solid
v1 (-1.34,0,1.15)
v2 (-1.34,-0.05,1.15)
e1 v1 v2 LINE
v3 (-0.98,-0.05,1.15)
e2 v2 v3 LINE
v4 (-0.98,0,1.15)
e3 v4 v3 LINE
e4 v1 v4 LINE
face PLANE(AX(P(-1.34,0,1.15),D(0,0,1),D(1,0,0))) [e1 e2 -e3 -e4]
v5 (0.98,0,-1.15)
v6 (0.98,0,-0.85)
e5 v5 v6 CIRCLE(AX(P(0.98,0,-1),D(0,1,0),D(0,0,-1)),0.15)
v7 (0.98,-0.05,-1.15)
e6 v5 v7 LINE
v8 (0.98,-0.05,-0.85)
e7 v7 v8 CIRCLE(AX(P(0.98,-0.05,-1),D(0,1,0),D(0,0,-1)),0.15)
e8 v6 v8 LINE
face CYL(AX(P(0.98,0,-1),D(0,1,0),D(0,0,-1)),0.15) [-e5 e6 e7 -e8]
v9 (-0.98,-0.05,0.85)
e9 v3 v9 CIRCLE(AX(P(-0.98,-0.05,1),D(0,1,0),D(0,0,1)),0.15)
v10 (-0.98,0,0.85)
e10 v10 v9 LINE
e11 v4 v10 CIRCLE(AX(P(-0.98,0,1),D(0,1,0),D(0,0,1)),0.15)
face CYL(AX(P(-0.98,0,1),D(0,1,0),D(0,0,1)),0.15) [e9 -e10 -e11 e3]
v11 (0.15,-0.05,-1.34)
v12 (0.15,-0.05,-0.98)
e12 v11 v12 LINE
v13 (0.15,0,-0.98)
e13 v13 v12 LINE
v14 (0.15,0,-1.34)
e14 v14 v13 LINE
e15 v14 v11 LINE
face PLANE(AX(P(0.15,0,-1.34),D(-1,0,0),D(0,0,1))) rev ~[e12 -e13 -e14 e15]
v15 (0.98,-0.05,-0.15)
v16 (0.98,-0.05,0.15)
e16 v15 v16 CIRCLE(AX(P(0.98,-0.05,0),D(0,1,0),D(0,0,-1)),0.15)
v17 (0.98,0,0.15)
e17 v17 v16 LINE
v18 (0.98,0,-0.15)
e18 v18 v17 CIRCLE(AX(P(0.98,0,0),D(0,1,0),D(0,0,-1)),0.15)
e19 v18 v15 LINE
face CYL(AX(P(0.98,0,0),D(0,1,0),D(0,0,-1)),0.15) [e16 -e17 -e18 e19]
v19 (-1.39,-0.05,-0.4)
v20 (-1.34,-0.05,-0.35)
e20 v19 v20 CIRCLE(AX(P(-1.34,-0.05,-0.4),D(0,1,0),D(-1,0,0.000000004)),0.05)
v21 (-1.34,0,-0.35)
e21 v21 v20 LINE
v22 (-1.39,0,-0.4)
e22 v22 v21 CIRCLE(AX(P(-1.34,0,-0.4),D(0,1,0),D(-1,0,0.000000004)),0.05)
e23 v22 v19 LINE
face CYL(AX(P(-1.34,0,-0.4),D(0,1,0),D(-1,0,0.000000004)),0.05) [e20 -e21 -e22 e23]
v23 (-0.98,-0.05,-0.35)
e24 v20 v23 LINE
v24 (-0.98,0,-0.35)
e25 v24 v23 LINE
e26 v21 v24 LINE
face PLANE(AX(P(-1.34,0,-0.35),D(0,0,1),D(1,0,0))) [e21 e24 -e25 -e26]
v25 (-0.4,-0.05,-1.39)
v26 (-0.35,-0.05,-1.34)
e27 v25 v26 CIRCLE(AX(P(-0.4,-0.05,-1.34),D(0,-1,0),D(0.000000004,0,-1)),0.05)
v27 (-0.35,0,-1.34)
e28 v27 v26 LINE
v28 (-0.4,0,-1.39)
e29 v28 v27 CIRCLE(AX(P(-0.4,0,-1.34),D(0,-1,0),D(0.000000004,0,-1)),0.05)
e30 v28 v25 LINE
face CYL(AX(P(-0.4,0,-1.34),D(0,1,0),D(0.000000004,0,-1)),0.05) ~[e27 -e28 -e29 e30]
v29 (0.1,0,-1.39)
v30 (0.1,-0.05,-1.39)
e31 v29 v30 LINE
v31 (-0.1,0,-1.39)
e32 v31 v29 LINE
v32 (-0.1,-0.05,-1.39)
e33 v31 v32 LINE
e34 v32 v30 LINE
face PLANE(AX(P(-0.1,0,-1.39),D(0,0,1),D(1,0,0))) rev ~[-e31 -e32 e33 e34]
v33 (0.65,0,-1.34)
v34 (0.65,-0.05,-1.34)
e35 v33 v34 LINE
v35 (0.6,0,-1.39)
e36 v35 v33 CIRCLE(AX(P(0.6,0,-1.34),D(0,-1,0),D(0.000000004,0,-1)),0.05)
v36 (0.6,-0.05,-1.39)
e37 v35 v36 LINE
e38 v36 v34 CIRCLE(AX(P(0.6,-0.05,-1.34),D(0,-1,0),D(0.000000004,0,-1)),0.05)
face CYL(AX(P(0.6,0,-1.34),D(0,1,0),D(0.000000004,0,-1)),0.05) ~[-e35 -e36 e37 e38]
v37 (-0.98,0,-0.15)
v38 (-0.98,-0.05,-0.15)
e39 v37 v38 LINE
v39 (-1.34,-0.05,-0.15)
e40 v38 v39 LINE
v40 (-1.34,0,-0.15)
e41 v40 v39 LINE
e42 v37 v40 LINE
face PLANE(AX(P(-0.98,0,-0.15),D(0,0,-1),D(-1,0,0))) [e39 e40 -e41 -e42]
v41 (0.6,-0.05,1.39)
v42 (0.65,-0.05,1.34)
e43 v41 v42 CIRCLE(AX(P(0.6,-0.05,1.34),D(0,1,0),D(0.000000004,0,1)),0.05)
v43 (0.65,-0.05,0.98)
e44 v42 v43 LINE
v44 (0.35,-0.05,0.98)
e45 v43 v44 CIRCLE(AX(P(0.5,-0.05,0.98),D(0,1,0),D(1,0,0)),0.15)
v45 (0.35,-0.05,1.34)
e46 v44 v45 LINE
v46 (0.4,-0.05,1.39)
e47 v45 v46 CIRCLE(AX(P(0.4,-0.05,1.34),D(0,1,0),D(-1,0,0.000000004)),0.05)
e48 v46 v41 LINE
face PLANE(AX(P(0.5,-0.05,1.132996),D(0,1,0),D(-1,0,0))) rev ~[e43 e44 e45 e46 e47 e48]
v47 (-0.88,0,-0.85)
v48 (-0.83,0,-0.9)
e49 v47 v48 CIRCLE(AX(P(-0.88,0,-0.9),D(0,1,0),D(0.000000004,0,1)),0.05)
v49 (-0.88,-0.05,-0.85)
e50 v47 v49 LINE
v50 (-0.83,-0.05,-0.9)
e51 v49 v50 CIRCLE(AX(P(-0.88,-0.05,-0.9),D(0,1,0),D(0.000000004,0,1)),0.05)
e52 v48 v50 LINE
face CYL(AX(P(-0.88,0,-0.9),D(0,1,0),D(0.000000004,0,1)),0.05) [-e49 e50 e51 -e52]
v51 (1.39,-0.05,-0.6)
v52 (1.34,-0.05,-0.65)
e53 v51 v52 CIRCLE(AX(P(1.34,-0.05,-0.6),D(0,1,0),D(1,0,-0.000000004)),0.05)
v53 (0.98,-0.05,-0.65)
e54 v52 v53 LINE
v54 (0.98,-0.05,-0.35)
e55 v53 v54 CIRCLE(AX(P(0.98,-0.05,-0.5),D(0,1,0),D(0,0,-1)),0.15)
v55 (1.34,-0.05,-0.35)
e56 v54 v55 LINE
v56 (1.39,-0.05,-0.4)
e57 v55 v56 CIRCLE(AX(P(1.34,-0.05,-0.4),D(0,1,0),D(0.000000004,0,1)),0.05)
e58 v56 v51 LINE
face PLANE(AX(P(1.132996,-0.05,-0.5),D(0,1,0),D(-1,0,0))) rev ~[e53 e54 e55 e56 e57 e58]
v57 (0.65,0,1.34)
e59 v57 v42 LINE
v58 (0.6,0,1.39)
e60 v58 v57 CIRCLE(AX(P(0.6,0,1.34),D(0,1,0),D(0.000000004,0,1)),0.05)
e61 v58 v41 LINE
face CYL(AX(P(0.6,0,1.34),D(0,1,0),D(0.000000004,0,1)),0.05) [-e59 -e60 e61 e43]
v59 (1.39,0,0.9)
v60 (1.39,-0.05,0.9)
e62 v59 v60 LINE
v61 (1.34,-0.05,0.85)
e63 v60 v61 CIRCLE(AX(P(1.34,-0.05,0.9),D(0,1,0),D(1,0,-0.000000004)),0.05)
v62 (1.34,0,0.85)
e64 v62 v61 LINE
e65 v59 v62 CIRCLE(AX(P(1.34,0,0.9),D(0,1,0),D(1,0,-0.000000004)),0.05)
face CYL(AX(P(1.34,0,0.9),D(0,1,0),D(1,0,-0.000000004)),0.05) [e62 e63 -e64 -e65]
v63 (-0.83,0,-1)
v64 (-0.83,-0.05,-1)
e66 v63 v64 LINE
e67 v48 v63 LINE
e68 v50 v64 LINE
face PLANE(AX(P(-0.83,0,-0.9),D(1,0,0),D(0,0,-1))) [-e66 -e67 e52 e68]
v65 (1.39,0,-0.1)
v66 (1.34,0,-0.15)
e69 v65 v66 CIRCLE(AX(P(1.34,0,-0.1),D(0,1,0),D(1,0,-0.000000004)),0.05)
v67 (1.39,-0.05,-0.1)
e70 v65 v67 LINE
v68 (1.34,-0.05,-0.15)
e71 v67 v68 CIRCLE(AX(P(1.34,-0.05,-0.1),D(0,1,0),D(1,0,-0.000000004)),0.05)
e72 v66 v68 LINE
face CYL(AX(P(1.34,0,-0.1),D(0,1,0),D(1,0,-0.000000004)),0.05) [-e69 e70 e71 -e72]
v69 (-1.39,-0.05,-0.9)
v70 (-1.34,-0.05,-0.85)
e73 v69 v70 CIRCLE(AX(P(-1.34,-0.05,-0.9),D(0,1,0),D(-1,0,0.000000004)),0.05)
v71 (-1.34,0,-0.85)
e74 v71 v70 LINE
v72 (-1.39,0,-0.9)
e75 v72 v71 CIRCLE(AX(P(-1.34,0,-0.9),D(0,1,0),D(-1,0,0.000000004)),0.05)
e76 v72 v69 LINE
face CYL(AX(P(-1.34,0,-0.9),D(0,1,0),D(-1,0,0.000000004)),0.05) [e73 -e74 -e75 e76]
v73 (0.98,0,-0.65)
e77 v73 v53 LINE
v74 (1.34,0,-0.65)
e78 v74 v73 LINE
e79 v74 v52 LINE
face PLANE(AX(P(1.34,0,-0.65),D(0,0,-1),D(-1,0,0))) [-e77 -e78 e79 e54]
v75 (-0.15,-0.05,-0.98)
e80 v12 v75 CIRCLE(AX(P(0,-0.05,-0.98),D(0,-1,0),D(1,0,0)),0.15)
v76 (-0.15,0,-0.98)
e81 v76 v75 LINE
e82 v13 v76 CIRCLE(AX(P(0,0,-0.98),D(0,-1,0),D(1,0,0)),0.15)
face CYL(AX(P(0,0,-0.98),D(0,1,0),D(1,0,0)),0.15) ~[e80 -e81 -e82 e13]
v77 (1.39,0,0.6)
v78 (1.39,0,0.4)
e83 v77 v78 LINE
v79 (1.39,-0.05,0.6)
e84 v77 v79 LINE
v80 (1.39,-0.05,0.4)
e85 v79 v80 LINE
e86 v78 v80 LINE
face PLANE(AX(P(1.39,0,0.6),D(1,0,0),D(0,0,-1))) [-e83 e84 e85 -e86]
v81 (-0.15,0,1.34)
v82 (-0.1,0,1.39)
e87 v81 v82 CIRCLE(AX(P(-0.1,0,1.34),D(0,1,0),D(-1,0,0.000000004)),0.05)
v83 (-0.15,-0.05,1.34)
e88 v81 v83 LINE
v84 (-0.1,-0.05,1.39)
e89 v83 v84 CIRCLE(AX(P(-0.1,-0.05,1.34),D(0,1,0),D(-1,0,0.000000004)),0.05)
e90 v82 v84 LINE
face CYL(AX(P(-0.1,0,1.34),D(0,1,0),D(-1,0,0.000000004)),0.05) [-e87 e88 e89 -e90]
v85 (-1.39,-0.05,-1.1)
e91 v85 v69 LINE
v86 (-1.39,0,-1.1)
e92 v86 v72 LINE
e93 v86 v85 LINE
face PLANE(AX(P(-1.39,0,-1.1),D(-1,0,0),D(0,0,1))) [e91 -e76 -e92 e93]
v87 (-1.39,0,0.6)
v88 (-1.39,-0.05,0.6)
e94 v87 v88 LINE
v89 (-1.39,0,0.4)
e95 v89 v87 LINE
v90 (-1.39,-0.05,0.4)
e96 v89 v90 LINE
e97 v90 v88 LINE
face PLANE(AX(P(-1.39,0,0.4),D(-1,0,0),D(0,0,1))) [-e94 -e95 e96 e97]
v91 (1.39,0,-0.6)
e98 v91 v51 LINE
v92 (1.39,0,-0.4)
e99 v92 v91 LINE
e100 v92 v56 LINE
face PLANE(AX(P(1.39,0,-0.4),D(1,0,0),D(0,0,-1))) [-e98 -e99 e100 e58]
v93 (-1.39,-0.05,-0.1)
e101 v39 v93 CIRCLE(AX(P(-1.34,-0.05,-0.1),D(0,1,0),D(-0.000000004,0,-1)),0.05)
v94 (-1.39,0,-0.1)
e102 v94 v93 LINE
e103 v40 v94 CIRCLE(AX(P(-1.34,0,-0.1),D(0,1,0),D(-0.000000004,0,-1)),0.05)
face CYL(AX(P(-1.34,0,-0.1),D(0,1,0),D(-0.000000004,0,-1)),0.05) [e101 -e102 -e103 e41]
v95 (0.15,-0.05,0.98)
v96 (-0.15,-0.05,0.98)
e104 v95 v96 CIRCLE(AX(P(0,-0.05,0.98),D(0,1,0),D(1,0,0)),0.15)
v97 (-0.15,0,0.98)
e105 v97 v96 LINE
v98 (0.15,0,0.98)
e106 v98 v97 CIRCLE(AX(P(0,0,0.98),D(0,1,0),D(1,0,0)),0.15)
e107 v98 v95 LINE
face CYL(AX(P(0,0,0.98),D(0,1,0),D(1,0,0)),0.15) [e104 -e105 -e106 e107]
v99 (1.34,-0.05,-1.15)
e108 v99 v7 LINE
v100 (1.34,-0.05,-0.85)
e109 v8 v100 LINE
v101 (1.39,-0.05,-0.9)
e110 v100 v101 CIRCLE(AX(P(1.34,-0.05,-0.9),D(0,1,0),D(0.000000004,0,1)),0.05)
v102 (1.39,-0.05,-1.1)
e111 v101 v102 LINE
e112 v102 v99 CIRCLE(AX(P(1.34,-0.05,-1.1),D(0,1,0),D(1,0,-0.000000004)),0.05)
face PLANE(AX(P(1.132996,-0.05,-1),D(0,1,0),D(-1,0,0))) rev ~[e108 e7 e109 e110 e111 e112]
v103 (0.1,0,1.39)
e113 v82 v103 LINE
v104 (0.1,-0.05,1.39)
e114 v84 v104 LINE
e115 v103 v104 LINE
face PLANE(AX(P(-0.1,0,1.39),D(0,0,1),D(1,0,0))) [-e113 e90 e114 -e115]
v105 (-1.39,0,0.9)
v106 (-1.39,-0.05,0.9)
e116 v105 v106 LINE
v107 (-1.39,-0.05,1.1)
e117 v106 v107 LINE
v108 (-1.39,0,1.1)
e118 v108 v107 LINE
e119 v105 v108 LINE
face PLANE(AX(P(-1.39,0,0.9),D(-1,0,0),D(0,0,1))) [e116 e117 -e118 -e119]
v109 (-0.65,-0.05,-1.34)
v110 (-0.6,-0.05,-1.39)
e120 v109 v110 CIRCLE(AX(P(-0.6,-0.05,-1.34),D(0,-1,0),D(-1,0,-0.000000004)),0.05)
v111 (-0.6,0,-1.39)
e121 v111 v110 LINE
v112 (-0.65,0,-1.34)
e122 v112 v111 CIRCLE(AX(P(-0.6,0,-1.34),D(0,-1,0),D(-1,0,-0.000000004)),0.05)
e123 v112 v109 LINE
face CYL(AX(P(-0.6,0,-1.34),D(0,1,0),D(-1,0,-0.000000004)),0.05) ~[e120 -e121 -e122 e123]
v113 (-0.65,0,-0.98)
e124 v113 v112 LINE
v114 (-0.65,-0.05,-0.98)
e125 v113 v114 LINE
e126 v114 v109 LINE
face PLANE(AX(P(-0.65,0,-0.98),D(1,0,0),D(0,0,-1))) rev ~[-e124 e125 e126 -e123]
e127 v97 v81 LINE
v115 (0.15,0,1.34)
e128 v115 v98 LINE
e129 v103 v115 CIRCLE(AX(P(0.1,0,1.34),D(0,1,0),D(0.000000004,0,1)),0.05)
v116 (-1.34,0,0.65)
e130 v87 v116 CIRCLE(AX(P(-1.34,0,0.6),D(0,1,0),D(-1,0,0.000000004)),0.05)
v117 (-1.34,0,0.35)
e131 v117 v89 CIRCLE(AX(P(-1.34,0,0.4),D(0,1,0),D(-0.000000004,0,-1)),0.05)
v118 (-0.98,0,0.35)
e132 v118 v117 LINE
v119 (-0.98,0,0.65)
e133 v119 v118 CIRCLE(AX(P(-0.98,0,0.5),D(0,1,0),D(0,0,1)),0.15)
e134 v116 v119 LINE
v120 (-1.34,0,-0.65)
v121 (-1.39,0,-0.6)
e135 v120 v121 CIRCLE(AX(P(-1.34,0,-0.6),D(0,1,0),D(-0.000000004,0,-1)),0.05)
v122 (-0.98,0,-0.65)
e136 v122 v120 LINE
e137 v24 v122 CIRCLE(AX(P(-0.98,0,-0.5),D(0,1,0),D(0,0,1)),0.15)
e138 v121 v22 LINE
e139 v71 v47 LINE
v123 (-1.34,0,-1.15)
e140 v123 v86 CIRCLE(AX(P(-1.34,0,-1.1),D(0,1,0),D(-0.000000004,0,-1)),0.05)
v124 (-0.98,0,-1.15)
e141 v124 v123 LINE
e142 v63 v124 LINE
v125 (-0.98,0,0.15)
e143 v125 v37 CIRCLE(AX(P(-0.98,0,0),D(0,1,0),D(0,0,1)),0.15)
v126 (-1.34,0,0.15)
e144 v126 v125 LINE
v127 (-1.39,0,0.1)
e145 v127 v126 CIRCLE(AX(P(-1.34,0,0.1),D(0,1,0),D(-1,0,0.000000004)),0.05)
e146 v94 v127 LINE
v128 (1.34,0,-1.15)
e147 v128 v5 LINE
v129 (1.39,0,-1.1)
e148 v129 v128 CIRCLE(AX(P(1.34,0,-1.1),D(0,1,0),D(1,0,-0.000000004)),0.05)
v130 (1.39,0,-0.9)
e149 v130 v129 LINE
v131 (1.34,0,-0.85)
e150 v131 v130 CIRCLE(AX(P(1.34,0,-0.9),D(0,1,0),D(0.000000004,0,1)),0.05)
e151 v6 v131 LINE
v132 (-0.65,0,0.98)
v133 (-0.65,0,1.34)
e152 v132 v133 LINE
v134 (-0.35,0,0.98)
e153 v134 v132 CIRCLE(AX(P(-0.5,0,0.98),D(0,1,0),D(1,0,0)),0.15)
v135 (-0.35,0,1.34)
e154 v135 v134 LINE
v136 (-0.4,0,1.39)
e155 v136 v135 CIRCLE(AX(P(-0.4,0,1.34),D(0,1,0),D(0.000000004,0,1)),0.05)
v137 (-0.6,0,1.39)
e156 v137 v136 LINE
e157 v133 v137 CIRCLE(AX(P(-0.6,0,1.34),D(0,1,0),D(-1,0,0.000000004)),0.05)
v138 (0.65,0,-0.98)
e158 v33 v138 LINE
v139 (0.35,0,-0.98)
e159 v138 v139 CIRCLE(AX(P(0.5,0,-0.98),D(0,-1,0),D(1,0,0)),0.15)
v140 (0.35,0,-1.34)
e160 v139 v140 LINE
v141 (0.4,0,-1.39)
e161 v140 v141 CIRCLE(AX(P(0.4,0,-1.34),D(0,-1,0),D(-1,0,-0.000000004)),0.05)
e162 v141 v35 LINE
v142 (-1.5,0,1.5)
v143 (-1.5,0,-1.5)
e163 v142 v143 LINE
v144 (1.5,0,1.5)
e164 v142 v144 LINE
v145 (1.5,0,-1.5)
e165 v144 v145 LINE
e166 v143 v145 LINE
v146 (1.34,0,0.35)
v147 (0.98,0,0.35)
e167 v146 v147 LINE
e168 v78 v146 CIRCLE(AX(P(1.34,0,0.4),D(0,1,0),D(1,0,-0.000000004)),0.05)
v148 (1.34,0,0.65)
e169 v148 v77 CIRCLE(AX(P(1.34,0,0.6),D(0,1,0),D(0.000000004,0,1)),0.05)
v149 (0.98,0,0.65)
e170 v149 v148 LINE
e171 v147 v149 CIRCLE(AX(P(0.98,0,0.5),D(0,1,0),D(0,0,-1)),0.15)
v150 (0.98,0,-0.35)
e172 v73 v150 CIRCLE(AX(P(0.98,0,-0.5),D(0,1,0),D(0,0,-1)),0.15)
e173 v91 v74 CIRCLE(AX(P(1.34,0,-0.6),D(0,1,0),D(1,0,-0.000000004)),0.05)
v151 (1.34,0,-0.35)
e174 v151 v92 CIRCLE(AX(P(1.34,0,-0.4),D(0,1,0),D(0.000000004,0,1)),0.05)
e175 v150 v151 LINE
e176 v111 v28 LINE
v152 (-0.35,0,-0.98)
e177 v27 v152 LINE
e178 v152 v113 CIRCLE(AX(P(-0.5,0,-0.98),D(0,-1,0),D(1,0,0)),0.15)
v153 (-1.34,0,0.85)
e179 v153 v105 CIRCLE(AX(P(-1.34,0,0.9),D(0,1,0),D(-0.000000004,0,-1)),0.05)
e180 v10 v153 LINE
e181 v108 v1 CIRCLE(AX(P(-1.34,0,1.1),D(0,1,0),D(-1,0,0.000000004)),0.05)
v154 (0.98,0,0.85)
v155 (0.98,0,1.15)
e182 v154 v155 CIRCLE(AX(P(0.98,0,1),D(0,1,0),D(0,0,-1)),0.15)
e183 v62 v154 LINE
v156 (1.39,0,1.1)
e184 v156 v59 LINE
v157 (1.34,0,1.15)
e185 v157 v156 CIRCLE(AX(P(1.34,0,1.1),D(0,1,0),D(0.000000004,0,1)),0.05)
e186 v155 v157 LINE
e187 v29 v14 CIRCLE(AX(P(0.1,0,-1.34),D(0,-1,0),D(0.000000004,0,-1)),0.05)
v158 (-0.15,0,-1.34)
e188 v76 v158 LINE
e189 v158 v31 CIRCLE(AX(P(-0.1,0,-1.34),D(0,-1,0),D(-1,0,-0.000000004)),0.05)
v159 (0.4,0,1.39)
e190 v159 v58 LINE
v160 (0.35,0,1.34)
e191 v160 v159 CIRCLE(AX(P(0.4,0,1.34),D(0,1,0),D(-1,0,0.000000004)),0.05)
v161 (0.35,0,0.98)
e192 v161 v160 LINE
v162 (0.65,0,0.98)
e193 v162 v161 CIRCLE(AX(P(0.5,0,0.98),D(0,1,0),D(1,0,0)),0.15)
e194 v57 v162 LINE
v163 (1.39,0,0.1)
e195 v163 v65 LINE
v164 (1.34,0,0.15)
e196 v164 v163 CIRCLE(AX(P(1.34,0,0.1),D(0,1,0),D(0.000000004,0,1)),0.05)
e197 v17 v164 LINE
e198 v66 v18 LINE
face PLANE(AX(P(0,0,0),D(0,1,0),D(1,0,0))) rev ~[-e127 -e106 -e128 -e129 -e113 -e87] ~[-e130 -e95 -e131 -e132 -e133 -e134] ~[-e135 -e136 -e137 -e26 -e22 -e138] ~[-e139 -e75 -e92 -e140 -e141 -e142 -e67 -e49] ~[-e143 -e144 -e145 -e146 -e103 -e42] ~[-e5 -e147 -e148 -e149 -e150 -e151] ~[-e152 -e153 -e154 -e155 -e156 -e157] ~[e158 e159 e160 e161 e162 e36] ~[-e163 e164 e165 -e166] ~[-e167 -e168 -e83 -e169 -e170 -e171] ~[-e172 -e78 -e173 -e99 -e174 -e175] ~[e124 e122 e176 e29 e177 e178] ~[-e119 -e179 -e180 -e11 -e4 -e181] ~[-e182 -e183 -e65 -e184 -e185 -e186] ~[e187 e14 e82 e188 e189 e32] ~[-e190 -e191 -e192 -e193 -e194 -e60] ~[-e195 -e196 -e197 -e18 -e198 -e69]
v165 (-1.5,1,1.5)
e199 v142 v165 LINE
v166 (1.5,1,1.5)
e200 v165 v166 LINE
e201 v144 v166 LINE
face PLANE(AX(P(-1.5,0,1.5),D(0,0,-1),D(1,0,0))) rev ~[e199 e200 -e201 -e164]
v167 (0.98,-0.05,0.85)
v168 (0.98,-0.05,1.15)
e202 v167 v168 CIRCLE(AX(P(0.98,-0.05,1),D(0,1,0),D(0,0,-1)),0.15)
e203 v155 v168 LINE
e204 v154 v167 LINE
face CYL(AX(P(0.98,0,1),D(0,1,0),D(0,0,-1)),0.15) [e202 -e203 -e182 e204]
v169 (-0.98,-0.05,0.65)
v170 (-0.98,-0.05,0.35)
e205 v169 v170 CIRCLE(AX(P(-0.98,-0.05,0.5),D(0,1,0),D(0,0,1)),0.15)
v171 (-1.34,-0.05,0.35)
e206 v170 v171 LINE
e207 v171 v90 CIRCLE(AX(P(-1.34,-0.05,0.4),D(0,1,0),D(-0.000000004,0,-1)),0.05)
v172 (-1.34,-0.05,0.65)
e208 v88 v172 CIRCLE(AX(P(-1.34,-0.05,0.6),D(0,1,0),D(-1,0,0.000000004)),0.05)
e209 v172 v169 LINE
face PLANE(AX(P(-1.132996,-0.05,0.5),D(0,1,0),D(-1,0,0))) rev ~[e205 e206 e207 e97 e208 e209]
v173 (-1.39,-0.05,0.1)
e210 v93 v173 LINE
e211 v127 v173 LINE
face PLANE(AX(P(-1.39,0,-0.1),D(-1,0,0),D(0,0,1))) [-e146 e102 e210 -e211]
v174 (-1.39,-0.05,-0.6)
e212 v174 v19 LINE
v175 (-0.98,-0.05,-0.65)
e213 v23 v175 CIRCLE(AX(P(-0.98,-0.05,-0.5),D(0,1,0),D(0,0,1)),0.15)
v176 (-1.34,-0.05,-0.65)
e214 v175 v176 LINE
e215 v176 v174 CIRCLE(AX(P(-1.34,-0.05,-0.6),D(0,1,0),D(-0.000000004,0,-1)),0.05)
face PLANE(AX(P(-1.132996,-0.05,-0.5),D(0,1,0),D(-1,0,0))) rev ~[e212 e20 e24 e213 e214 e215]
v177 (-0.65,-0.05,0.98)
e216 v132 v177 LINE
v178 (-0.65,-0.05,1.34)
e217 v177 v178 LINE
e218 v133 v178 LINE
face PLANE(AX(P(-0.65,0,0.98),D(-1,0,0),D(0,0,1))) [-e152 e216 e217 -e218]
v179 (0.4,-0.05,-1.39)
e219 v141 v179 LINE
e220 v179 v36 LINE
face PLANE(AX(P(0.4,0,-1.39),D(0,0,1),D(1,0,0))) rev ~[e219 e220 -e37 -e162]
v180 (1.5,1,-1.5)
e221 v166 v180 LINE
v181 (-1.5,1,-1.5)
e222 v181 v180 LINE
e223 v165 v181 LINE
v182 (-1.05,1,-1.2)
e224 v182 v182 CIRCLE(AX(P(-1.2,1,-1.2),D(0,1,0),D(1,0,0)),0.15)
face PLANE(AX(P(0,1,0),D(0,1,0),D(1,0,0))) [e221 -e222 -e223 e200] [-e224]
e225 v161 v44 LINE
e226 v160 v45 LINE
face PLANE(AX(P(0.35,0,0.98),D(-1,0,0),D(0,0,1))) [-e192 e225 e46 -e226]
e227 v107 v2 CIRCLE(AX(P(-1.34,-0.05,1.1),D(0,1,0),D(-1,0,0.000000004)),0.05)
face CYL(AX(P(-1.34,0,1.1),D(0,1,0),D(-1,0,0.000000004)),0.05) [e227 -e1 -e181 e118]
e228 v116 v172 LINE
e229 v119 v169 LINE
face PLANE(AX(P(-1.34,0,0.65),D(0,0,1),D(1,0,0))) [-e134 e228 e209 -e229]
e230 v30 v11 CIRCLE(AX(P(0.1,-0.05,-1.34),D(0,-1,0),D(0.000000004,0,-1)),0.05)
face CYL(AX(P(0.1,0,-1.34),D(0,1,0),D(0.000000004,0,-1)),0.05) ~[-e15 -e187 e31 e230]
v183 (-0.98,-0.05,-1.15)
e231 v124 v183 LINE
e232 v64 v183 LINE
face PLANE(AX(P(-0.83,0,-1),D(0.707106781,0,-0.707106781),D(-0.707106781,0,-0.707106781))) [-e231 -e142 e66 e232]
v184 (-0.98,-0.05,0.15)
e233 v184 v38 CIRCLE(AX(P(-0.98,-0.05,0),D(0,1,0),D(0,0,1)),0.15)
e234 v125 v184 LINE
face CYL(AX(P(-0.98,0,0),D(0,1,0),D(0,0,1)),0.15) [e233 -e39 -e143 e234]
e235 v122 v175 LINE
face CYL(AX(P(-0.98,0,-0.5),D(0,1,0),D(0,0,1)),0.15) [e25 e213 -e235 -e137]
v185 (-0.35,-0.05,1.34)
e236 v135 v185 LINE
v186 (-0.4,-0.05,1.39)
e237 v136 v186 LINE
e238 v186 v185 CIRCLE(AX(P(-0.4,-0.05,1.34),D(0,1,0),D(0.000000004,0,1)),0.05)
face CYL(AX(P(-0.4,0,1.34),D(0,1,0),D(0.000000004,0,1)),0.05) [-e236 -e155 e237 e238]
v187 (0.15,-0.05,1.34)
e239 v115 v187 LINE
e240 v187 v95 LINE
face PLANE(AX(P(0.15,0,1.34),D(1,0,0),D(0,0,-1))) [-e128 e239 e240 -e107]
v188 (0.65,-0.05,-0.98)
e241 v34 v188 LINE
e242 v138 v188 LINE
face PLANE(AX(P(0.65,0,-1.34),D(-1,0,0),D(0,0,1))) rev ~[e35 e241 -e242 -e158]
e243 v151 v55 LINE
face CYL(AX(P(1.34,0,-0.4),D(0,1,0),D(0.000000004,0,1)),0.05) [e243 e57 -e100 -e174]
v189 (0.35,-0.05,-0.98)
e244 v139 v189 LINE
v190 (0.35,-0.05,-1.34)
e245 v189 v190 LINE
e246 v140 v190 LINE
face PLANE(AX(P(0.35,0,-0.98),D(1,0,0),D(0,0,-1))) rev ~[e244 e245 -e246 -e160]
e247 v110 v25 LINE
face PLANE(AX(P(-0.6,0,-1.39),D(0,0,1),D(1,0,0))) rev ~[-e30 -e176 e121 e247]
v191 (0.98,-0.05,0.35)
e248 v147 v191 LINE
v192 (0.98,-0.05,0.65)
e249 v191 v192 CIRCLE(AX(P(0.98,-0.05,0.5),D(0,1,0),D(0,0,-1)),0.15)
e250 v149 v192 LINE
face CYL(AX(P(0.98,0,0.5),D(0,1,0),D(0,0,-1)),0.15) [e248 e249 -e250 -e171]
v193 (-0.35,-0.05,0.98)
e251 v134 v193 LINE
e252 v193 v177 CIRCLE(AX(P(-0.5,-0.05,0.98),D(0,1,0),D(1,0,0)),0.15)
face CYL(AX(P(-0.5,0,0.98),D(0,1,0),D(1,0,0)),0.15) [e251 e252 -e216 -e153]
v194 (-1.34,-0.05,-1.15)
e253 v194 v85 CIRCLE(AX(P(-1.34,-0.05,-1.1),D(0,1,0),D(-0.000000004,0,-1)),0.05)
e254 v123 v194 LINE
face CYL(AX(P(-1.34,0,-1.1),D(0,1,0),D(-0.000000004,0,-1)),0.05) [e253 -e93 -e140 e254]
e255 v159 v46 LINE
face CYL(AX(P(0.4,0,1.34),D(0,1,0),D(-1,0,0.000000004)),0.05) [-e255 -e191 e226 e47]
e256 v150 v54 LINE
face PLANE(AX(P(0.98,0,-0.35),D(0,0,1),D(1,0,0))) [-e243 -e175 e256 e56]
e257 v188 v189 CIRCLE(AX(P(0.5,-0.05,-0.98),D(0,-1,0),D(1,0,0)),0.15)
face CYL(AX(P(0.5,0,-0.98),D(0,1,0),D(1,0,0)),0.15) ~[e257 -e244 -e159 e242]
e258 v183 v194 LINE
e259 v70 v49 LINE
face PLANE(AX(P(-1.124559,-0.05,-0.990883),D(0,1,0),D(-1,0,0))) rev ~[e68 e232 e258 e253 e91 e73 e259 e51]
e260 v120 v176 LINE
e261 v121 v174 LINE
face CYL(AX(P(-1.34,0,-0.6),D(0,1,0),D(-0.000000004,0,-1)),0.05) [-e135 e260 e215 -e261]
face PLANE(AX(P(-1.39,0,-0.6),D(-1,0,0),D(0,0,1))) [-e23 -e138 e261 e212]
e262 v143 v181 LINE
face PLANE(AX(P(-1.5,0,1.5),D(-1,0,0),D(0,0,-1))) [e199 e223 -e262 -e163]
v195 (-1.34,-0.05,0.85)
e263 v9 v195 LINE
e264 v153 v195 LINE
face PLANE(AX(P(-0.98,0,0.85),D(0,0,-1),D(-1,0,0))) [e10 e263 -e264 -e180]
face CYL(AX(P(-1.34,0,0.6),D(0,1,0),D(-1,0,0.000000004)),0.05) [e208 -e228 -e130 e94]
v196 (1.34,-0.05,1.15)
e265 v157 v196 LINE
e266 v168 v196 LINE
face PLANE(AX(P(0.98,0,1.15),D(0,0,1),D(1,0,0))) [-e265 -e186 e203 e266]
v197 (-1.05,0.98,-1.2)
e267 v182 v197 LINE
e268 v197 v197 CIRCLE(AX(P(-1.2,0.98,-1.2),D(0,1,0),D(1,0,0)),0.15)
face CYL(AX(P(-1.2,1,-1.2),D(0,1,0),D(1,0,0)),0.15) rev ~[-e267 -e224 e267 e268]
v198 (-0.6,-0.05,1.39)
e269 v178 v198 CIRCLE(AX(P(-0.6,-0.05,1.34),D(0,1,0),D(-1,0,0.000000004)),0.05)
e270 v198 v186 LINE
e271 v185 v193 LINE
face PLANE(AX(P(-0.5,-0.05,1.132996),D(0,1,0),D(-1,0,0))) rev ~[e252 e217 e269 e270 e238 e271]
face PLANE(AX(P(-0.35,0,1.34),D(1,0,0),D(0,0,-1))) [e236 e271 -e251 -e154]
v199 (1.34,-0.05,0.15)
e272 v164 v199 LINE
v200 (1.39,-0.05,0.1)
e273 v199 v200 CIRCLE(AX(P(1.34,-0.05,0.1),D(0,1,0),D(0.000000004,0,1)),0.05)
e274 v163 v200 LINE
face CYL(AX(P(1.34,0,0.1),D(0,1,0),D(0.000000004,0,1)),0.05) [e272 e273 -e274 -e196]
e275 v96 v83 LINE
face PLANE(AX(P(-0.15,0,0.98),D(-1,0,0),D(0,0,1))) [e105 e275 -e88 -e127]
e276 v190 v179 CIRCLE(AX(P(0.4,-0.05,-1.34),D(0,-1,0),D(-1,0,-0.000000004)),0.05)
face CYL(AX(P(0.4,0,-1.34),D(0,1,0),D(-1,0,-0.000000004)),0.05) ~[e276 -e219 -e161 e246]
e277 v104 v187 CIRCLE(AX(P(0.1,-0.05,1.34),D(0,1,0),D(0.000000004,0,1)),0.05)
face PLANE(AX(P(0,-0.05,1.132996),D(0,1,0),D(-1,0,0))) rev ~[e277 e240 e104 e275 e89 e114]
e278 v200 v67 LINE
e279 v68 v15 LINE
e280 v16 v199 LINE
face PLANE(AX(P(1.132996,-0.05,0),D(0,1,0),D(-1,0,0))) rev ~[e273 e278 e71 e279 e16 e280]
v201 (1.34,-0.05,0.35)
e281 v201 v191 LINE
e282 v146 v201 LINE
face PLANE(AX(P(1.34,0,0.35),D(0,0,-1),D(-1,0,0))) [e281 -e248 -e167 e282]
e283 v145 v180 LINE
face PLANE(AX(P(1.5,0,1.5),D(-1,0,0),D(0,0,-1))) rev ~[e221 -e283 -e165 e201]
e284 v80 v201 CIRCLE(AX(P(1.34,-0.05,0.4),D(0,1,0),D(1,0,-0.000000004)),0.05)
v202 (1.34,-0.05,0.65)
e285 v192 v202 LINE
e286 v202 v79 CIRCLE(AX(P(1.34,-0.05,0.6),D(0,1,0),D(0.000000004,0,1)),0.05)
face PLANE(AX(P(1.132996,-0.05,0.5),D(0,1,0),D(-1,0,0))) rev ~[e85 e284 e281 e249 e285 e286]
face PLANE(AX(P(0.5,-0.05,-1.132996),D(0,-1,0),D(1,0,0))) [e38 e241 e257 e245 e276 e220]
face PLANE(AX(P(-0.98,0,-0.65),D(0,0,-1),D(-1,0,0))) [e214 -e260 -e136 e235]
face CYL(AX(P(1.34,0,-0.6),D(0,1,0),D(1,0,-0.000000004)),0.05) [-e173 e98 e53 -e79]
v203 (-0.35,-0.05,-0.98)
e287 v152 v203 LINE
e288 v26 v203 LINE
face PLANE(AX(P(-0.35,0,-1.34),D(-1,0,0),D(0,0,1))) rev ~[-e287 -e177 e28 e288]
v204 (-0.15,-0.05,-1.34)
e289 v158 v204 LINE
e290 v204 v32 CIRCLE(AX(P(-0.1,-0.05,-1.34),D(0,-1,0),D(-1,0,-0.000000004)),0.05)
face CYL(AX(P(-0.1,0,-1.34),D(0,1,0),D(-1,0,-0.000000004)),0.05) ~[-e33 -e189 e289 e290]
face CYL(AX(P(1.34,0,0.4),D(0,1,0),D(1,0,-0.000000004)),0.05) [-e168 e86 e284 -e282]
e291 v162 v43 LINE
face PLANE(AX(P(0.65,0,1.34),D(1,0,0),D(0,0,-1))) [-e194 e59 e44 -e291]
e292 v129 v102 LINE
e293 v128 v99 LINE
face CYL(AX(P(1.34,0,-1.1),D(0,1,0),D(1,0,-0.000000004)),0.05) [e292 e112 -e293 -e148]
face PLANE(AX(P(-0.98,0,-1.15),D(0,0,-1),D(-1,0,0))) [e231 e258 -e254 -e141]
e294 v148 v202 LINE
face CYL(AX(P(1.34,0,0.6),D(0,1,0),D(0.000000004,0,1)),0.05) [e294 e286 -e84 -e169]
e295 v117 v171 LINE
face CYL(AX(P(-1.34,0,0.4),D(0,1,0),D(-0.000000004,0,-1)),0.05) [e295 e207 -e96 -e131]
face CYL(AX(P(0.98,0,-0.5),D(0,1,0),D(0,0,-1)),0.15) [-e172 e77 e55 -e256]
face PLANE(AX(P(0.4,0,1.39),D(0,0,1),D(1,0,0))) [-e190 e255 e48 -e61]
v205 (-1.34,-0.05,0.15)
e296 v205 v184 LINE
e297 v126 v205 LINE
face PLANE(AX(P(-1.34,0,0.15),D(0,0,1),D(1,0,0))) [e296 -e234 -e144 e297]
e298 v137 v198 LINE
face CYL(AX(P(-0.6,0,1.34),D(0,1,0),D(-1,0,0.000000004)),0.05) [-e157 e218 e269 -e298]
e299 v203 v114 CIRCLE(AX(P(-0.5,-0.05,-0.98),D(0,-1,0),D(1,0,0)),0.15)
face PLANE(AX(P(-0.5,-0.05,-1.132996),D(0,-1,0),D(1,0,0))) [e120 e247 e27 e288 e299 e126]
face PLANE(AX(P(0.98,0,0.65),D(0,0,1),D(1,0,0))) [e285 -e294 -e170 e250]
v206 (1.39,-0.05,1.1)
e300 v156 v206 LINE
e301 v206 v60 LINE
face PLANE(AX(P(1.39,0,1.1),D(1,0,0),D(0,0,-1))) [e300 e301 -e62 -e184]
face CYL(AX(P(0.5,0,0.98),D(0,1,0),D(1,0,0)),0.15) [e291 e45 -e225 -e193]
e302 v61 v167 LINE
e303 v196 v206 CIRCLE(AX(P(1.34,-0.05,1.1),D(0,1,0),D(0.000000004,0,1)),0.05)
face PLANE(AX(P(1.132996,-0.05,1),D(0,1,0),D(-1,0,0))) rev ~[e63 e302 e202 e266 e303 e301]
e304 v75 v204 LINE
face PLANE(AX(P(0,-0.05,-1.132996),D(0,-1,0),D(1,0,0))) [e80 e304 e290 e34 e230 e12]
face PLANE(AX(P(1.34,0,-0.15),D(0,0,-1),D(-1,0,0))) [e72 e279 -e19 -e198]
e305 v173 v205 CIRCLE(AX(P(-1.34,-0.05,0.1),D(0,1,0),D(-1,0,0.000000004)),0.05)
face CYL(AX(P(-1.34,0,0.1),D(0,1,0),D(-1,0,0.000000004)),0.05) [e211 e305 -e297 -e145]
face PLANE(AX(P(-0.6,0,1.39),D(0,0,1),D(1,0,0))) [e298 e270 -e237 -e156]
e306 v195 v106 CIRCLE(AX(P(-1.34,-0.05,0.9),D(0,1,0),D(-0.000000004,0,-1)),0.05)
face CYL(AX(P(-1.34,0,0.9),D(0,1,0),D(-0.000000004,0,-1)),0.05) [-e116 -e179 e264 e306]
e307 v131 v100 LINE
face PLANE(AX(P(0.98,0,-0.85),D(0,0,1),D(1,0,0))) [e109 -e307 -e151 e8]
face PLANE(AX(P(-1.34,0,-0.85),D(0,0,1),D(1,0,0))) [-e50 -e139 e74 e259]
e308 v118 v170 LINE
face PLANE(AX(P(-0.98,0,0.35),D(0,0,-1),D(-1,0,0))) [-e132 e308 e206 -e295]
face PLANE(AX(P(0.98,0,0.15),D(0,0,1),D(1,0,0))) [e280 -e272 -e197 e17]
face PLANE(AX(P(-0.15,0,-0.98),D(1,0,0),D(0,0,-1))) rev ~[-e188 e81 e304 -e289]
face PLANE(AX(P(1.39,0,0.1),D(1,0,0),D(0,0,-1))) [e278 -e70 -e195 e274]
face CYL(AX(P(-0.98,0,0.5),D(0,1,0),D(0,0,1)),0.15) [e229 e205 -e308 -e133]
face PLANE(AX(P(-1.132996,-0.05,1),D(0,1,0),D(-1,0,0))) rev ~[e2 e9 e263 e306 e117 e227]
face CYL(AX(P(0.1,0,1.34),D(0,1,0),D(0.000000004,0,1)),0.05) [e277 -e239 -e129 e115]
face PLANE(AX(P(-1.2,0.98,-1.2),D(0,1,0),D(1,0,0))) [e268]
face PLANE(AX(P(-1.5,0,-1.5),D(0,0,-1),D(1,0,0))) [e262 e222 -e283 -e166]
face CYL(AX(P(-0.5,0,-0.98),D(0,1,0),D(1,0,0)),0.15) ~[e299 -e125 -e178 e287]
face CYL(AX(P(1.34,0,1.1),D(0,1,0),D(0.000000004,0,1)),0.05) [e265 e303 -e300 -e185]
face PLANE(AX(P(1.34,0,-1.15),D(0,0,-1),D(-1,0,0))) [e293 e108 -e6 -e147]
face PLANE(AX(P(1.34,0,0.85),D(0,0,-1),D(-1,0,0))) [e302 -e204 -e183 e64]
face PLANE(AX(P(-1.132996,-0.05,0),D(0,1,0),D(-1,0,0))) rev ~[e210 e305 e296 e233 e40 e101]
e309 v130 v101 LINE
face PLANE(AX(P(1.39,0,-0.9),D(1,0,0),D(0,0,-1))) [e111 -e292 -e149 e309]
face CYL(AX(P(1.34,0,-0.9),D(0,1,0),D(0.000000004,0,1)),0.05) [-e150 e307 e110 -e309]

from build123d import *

# Parameters (mm, degrees)
SKETCH1_W           = 3
SKETCH1_H           = 3
BOSS_EXTRUDE1_DEPTH = 1
BOSS_EXTRUDE2_DEPTH = 0.05
SKETCH3_R           = 0.15
CUT_EXTRUDE1_DEPTH  = 0.02


with BuildPart() as part:
    # Sketch1 → Boss-Extrude1 (new body)
    with BuildSketch(Plane(origin=(0, 0, 0), x_dir=(1, 0, 0), z_dir=(0, 1, 0))):
        Rectangle(SKETCH1_W, SKETCH1_H)
    extrude(amount=BOSS_EXTRUDE1_DEPTH)

    # Sketch2 → Boss-Extrude2 (add)
    with BuildSketch(Plane.XZ):
        with BuildLine():
            Line((-0.6, 1.39), (-0.4, 1.39))
            ThreePointArc((-0.4, 1.39), (-0.364644661, 1.375355339), (-0.35, 1.34))
            Line((-0.35, 1.34), (-0.35, 0.98))
            ThreePointArc((-0.35, 0.98), (-0.5, 0.83), (-0.65, 0.98))
            Line((-0.65, 0.98), (-0.65, 1.34))
            ThreePointArc((-0.65, 1.34), (-0.635355339, 1.375355339), (-0.6, 1.39))
        make_face()
        with BuildLine():
            Line((-0.1, 1.39), (0.1, 1.39))
            ThreePointArc((0.1, 1.39), (0.135355339, 1.375355339), (0.15, 1.34))
            Line((0.15, 1.34), (0.15, 0.98))
            ThreePointArc((0.15, 0.98), (0, 0.83), (-0.15, 0.98))
            Line((-0.15, 0.98), (-0.15, 1.34))
            ThreePointArc((-0.15, 1.34), (-0.135355339, 1.375355339), (-0.1, 1.39))
        make_face()
        with BuildLine():
            Line((0.4, 1.39), (0.6, 1.39))
            ThreePointArc((0.6, 1.39), (0.635355339, 1.375355339), (0.65, 1.34))
            Line((0.65, 1.34), (0.65, 0.98))
            ThreePointArc((0.65, 0.98), (0.5, 0.83), (0.35, 0.98))
            Line((0.35, 0.98), (0.35, 1.34))
            ThreePointArc((0.35, 1.34), (0.364644661, 1.375355339), (0.4, 1.39))
        make_face()
        with BuildLine():
            Line((0.35, -0.98), (0.35, -1.34))
            ThreePointArc((0.35, -1.34), (0.364644661, -1.375355339), (0.4, -1.39))
            Line((0.4, -1.39), (0.6, -1.39))
            ThreePointArc((0.6, -1.39), (0.635355339, -1.375355339), (0.65, -1.34))
            Line((0.65, -1.34), (0.65, -0.98))
            ThreePointArc((0.65, -0.98), (0.5, -0.83), (0.35, -0.98))
        make_face()
        with BuildLine():
            Line((-0.15, -0.98), (-0.15, -1.34))
            ThreePointArc((-0.15, -1.34), (-0.135355339, -1.375355339), (-0.1, -1.39))
            Line((-0.1, -1.39), (0.1, -1.39))
            ThreePointArc((0.1, -1.39), (0.135355339, -1.375355339), (0.15, -1.34))
            Line((0.15, -1.34), (0.15, -0.98))
            ThreePointArc((0.15, -0.98), (0, -0.83), (-0.15, -0.98))
        make_face()
        with BuildLine():
            Line((-0.65, -0.98), (-0.65, -1.34))
            ThreePointArc((-0.65, -1.34), (-0.635355339, -1.375355339), (-0.6, -1.39))
            Line((-0.6, -1.39), (-0.4, -1.39))
            ThreePointArc((-0.4, -1.39), (-0.364644661, -1.375355339), (-0.35, -1.34))
            Line((-0.35, -1.34), (-0.35, -0.98))
            ThreePointArc((-0.35, -0.98), (-0.5, -0.83), (-0.65, -0.98))
        make_face()
        with BuildLine():
            Line((-1.34, 1.15), (-0.98, 1.15))
            ThreePointArc((-0.98, 1.15), (-0.83, 1), (-0.98, 0.85))
            Line((-0.98, 0.85), (-1.34, 0.85))
            ThreePointArc((-1.34, 0.85), (-1.375355339, 0.864644661), (-1.39, 0.9))
            Line((-1.39, 0.9), (-1.39, 1.1))
            ThreePointArc((-1.39, 1.1), (-1.375355339, 1.135355339), (-1.34, 1.15))
        make_face()
        with BuildLine():
            Line((-1.34, 0.65), (-0.98, 0.65))
            ThreePointArc((-0.98, 0.65), (-0.83, 0.5), (-0.98, 0.35))
            Line((-0.98, 0.35), (-1.34, 0.35))
            ThreePointArc((-1.34, 0.35), (-1.375355339, 0.364644661), (-1.39, 0.4))
            Line((-1.39, 0.4), (-1.39, 0.6))
            ThreePointArc((-1.39, 0.6), (-1.375355339, 0.635355339), (-1.34, 0.65))
        make_face()
        with BuildLine():
            Line((-1.34, 0.15), (-0.98, 0.15))
            ThreePointArc((-0.98, 0.15), (-0.83, 0), (-0.98, -0.15))
            Line((-0.98, -0.15), (-1.34, -0.15))
            ThreePointArc((-1.34, -0.15), (-1.375355339, -0.135355339), (-1.39, -0.1))
            Line((-1.39, -0.1), (-1.39, 0.1))
            ThreePointArc((-1.39, 0.1), (-1.375355339, 0.135355339), (-1.34, 0.15))
        make_face()
        with BuildLine():
            Line((-1.34, -0.35), (-0.98, -0.35))
            ThreePointArc((-0.98, -0.35), (-0.83, -0.5), (-0.98, -0.65))
            Line((-0.98, -0.65), (-1.34, -0.65))
            ThreePointArc((-1.34, -0.65), (-1.375355339, -0.635355339), (-1.39, -0.6))
            Line((-1.39, -0.6), (-1.39, -0.4))
            ThreePointArc((-1.39, -0.4), (-1.375355339, -0.364644661), (-1.34, -0.35))
        make_face()
        with BuildLine():
            Line((-1.34, -0.85), (-0.98, -0.85))
            Line((-0.98, -0.85), (-0.88, -0.85))
            ThreePointArc((-0.88, -0.85), (-0.844644661, -0.864644661), (-0.83, -0.9))
            Line((-0.83, -0.9), (-0.83, -1))
            Line((-0.83, -1), (-0.98, -1.15))
            Line((-0.98, -1.15), (-1.34, -1.15))
            ThreePointArc((-1.34, -1.15), (-1.375355339, -1.135355339), (-1.39, -1.1))
            Line((-1.39, -1.1), (-1.39, -0.9))
            ThreePointArc((-1.39, -0.9), (-1.375355339, -0.864644661), (-1.34, -0.85))
        make_face()
        with BuildLine():
            Line((0.98, -0.35), (1.34, -0.35))
            ThreePointArc((1.34, -0.35), (1.375355339, -0.364644661), (1.39, -0.4))
            Line((1.39, -0.4), (1.39, -0.6))
            ThreePointArc((1.39, -0.6), (1.375355339, -0.635355339), (1.34, -0.65))
            Line((1.34, -0.65), (0.98, -0.65))
            ThreePointArc((0.98, -0.65), (0.83, -0.5), (0.98, -0.35))
        make_face()
        with BuildLine():
            Line((0.98, -0.85), (1.34, -0.85))
            ThreePointArc((1.34, -0.85), (1.375355339, -0.864644661), (1.39, -0.9))
            Line((1.39, -0.9), (1.39, -1.1))
            ThreePointArc((1.39, -1.1), (1.375355339, -1.135355339), (1.34, -1.15))
            Line((1.34, -1.15), (0.98, -1.15))
            ThreePointArc((0.98, -1.15), (0.83, -1), (0.98, -0.85))
        make_face()
        with BuildLine():
            Line((0.98, 0.15), (1.34, 0.15))
            ThreePointArc((1.34, 0.15), (1.375355339, 0.135355339), (1.39, 0.1))
            Line((1.39, 0.1), (1.39, -0.1))
            ThreePointArc((1.39, -0.1), (1.375355339, -0.135355339), (1.34, -0.15))
            Line((1.34, -0.15), (0.98, -0.15))
            ThreePointArc((0.98, -0.15), (0.83, 0), (0.98, 0.15))
        make_face()
        with BuildLine():
            Line((0.98, 0.65), (1.34, 0.65))
            ThreePointArc((1.34, 0.65), (1.375355339, 0.635355339), (1.39, 0.6))
            Line((1.39, 0.6), (1.39, 0.4))
            ThreePointArc((1.39, 0.4), (1.375355339, 0.364644661), (1.34, 0.35))
            Line((1.34, 0.35), (0.98, 0.35))
            ThreePointArc((0.98, 0.35), (0.83, 0.5), (0.98, 0.65))
        make_face()
        with BuildLine():
            Line((0.98, 1.15), (1.34, 1.15))
            ThreePointArc((1.34, 1.15), (1.375355339, 1.135355339), (1.39, 1.1))
            Line((1.39, 1.1), (1.39, 0.9))
            ThreePointArc((1.39, 0.9), (1.375355339, 0.864644661), (1.34, 0.85))
            Line((1.34, 0.85), (0.98, 0.85))
            ThreePointArc((0.98, 0.85), (0.83, 1), (0.98, 1.15))
        make_face()
    extrude(amount=BOSS_EXTRUDE2_DEPTH)

    # Sketch3 → Cut-Extrude1 (cut)
    with BuildSketch(Plane(origin=(0, 1, 0), x_dir=(1, 0, 0), z_dir=(0, 1, 0))):
        with Locations((-1.2, 1.2)):
            Circle(SKETCH3_R)
    extrude(amount=-CUT_EXTRUDE1_DEPTH, mode=Mode.SUBTRACT)


solid = part.part
